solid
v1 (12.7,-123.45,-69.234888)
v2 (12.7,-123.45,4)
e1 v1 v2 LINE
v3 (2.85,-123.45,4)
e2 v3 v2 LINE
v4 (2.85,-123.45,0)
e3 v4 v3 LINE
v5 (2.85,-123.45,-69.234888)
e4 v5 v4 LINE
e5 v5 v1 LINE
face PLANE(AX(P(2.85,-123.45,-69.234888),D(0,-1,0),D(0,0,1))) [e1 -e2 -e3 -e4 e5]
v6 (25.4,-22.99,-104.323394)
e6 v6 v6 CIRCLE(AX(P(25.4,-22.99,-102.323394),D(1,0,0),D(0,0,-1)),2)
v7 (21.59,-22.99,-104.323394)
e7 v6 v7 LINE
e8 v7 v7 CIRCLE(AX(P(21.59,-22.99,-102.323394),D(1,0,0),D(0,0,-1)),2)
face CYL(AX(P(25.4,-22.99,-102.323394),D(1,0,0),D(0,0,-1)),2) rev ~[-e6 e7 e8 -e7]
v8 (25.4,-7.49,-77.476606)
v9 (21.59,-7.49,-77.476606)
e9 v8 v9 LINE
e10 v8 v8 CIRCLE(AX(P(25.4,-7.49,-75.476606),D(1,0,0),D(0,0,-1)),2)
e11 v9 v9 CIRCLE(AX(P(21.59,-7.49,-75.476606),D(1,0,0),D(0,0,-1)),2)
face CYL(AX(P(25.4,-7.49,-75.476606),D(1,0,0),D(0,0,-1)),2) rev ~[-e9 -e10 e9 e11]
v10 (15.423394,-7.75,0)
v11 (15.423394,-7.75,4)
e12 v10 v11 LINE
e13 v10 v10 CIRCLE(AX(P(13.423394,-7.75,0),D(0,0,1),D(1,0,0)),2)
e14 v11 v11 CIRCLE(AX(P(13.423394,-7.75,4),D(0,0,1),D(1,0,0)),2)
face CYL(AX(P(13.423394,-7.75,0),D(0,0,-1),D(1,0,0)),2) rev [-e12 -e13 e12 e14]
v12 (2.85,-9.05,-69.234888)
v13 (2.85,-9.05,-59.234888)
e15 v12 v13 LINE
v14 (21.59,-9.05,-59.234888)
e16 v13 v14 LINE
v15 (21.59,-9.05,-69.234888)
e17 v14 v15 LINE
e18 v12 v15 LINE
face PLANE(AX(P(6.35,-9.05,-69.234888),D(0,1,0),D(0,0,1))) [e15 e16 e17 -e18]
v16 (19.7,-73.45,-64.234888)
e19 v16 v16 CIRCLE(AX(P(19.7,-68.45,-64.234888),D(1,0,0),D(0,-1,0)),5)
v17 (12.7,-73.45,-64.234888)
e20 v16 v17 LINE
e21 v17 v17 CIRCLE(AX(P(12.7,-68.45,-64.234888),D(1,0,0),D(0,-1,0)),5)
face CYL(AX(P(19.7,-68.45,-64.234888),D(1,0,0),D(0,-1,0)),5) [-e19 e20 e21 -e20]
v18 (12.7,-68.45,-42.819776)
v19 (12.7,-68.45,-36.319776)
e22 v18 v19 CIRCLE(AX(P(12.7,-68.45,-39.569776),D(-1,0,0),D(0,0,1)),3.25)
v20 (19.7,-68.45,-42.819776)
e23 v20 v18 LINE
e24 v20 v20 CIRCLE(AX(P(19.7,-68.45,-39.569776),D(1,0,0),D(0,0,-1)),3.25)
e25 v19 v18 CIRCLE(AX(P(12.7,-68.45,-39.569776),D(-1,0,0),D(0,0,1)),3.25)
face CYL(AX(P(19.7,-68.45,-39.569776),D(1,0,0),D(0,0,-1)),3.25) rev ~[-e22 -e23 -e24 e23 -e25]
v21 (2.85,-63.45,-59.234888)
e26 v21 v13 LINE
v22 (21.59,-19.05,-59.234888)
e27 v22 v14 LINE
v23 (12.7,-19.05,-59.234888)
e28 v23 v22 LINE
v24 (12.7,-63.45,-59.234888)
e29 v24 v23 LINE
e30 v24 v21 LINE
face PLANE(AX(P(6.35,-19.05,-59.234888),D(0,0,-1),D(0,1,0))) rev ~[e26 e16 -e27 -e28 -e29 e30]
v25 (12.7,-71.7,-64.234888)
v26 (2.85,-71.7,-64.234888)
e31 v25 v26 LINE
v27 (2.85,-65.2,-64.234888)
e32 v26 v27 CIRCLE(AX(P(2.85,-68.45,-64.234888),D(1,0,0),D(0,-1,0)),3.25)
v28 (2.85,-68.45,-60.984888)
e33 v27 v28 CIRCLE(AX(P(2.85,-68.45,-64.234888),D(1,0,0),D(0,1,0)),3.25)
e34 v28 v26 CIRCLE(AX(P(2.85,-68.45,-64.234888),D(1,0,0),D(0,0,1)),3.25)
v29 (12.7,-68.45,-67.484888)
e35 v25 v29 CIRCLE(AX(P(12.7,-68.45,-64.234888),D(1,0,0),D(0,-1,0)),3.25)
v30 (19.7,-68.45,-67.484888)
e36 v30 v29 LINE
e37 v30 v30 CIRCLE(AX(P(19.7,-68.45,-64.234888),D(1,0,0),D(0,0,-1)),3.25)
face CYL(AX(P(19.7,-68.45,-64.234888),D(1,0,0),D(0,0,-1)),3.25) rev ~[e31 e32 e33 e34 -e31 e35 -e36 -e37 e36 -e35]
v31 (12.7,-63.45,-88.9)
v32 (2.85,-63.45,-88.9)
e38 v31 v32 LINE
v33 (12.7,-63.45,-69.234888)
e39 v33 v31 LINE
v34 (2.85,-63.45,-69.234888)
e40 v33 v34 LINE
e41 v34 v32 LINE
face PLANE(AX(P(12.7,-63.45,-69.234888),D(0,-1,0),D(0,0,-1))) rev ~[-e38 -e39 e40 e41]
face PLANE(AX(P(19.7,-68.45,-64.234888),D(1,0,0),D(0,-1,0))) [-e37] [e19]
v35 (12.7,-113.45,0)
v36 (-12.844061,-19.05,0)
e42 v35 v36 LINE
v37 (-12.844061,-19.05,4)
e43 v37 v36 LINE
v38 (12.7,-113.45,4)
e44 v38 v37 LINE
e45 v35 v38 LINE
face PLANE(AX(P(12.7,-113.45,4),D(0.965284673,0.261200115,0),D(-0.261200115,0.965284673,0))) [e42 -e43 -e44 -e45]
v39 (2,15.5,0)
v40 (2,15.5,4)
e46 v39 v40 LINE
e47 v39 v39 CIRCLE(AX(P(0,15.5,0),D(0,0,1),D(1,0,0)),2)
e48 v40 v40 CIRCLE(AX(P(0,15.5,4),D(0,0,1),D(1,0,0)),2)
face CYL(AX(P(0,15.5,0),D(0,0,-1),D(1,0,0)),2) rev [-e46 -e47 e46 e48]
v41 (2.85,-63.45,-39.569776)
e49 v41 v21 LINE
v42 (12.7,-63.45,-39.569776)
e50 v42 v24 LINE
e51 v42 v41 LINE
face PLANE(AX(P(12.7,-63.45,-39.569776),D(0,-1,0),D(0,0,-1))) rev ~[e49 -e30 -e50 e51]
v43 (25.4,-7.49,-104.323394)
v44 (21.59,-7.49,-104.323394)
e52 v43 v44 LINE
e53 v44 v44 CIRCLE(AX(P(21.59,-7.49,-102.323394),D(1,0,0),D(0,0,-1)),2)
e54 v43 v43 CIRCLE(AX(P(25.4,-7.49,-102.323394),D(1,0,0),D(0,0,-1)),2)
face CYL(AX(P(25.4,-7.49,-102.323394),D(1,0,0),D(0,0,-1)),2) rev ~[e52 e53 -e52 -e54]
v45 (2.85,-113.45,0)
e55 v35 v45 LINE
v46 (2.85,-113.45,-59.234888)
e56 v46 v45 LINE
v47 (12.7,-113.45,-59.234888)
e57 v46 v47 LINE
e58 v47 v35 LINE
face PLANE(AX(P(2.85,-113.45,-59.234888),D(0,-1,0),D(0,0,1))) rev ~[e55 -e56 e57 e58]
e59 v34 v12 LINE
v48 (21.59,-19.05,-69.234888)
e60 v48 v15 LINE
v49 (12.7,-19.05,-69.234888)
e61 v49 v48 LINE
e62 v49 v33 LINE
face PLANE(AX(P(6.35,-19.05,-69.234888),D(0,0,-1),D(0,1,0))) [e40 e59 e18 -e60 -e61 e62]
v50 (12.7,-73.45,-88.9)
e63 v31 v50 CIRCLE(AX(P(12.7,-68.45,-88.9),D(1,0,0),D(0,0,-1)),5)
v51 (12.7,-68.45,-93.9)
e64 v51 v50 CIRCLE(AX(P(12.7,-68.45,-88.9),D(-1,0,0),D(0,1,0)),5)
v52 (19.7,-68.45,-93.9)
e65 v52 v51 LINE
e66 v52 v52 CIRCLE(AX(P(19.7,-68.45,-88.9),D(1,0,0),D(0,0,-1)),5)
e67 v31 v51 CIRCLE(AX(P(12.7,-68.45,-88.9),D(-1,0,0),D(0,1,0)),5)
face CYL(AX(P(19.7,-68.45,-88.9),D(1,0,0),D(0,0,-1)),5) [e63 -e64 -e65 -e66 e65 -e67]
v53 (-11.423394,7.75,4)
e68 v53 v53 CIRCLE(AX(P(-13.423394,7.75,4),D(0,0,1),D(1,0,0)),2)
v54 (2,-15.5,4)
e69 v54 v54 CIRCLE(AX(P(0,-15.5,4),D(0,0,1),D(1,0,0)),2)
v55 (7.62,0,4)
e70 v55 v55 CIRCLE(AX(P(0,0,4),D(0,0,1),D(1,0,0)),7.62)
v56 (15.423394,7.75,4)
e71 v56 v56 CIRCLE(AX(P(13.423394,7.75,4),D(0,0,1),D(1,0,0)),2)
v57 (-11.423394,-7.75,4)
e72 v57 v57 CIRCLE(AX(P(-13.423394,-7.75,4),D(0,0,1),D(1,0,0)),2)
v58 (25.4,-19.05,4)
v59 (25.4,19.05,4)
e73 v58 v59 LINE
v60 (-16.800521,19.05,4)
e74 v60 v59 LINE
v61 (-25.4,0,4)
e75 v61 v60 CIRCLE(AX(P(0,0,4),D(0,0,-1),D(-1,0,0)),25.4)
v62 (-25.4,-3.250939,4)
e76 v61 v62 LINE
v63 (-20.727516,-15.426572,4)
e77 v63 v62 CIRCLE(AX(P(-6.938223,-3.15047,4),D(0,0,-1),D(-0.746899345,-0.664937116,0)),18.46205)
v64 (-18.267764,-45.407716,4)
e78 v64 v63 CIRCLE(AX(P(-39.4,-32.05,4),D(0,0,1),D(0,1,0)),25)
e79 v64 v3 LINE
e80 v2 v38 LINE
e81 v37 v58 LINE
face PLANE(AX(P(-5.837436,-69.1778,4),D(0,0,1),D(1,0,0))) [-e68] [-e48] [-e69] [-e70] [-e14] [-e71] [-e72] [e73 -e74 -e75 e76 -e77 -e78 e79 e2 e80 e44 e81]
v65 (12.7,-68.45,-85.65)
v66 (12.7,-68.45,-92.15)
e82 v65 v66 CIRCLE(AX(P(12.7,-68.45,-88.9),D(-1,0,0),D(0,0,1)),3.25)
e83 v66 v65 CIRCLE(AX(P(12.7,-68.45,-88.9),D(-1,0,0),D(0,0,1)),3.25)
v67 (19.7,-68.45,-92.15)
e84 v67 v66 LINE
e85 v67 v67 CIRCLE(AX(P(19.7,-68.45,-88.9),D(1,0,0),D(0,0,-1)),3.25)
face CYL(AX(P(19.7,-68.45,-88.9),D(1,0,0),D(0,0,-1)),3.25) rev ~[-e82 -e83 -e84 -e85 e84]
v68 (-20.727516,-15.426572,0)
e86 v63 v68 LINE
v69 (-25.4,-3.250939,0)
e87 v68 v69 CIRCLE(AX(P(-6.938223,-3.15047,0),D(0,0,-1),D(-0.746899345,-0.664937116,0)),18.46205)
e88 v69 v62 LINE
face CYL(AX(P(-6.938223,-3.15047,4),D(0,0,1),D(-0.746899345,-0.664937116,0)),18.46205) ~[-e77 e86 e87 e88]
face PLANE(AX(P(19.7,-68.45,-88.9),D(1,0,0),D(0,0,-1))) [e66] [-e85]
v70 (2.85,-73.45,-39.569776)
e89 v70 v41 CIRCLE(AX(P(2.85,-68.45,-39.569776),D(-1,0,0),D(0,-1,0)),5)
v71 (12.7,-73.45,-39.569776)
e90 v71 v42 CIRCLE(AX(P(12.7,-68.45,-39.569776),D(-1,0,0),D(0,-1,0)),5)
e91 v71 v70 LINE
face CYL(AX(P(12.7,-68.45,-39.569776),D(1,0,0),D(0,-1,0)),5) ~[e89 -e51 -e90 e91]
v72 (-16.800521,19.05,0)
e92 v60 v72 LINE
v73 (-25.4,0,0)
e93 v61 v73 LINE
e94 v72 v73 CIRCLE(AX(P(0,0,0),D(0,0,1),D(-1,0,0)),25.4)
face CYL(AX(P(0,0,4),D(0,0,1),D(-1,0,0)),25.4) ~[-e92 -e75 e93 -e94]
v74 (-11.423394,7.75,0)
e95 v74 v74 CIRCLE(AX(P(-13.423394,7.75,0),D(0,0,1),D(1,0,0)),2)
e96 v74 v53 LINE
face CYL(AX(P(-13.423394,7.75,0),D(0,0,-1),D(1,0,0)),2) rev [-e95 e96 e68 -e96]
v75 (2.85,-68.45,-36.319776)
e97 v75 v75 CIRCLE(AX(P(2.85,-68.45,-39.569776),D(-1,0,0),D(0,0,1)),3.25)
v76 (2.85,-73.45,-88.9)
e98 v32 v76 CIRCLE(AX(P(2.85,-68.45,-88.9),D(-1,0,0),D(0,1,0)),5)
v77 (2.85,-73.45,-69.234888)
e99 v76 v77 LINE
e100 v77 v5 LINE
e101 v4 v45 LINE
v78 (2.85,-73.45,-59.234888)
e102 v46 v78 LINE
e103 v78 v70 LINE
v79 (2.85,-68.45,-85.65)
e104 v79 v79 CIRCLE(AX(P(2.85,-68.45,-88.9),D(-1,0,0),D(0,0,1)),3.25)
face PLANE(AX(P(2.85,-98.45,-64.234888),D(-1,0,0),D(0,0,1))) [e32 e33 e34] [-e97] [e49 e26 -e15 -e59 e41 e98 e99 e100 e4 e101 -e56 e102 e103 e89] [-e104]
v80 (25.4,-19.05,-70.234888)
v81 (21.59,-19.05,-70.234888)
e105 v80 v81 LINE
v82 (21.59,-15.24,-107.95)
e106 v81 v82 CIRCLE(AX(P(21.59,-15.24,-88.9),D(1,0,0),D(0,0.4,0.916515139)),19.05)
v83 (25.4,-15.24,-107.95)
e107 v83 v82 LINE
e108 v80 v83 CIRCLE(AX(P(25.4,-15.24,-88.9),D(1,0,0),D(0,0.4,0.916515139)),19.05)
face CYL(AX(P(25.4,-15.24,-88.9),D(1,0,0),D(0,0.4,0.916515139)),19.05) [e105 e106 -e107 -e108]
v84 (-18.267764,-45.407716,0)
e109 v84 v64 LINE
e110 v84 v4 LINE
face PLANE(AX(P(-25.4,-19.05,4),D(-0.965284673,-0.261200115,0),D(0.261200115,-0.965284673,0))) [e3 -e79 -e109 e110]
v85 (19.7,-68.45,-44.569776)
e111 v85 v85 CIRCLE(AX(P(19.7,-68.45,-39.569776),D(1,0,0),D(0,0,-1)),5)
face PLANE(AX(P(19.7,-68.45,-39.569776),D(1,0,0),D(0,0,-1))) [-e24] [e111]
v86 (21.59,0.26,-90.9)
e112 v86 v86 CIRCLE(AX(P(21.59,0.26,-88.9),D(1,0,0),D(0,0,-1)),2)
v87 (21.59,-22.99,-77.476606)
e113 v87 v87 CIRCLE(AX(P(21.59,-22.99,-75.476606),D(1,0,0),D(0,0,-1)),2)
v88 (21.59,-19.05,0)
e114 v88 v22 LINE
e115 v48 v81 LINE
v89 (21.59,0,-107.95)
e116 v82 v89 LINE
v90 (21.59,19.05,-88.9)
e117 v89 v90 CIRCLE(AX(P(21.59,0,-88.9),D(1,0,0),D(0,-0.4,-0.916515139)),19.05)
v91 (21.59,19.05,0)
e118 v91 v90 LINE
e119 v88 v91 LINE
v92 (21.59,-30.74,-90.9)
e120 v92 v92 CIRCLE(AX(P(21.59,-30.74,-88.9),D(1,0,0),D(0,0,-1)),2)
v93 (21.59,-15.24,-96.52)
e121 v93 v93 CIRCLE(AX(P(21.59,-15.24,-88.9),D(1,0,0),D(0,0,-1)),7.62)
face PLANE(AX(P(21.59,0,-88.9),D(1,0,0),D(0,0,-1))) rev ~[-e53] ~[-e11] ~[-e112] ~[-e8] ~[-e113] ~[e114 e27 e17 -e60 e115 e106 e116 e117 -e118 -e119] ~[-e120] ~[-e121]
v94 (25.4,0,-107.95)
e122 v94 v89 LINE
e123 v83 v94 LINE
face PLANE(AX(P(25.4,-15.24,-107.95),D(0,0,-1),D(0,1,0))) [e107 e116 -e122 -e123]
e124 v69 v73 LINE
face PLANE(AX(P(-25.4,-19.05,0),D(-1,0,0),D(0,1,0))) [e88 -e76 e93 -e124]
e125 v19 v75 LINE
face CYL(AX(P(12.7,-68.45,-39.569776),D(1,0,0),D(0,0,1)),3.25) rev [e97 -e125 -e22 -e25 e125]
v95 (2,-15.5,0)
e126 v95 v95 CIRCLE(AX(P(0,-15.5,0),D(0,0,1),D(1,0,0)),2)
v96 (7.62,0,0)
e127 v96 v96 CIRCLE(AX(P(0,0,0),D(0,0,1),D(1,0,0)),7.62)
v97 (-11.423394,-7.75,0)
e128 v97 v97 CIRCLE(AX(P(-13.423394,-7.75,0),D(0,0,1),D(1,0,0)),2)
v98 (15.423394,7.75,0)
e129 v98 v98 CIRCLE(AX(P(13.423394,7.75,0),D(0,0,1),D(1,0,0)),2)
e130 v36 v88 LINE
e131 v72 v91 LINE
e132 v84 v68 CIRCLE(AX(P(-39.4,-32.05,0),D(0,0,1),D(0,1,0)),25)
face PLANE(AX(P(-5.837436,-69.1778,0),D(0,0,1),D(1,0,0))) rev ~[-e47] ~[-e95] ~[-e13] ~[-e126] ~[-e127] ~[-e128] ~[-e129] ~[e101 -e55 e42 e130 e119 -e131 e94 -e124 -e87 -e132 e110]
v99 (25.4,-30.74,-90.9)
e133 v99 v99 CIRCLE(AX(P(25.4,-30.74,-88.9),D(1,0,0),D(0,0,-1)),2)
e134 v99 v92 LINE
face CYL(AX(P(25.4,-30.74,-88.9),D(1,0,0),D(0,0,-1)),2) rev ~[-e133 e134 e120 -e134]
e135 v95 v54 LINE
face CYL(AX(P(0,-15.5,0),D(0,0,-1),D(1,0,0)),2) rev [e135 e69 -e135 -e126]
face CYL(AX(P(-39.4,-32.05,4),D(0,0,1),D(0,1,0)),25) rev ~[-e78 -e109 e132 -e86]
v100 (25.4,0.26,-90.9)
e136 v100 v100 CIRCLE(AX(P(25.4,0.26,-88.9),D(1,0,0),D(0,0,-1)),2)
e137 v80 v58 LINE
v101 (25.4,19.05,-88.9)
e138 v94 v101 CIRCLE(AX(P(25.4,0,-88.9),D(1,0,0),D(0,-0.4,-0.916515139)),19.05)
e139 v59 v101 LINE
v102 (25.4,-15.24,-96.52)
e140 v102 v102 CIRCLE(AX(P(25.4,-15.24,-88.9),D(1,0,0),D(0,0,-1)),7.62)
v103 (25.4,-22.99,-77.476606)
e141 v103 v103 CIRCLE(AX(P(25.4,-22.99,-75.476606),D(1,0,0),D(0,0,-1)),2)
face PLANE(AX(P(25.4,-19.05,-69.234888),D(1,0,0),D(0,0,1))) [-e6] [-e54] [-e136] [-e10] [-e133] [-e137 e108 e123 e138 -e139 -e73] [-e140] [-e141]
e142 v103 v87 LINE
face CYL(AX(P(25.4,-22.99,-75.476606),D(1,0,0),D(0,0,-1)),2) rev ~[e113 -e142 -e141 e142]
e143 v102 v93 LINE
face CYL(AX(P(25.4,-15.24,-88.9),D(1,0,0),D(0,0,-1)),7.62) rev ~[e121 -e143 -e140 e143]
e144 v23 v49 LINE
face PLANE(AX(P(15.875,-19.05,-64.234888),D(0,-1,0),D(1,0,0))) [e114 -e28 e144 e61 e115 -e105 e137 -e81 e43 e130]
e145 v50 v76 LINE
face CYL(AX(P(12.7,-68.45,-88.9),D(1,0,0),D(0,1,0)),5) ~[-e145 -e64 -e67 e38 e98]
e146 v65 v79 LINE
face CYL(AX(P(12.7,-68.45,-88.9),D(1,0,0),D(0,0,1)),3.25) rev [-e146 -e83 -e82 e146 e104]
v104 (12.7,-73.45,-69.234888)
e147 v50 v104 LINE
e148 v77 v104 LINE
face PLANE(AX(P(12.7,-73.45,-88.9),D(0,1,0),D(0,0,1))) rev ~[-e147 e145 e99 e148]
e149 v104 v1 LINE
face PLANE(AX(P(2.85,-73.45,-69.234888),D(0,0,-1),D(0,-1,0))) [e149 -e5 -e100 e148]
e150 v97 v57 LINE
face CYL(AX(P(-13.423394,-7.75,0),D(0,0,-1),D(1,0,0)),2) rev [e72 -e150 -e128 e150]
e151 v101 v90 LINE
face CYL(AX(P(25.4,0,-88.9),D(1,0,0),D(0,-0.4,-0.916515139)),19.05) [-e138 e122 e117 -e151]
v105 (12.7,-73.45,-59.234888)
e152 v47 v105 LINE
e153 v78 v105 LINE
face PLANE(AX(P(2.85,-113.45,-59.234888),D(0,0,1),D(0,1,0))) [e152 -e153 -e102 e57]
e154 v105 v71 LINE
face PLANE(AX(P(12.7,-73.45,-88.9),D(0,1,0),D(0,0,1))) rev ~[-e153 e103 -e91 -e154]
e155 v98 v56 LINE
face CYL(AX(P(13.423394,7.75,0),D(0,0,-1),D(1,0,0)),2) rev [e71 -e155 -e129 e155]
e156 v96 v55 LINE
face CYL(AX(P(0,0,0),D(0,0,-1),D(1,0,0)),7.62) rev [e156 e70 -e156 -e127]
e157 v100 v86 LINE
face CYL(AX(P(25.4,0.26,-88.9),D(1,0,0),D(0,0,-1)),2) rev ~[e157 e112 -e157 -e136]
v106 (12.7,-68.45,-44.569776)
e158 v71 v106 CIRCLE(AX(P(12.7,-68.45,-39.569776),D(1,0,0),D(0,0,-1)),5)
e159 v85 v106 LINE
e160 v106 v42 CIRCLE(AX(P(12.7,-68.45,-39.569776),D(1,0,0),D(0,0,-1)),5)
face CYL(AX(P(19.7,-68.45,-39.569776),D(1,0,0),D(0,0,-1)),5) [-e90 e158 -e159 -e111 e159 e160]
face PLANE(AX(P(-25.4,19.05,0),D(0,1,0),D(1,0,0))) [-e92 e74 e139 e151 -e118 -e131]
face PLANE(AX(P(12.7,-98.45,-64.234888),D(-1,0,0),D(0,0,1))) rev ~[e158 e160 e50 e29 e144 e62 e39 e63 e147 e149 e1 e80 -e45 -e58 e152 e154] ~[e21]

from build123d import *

# Parameters (mm, degrees)
SKETCH1_W                = 50.8
SKETCH1_H                = 38.1
SKETCH1_R                = 2
SKETCH1_R_2              = 7.62
BOSS_EXTRUDE1_DEPTH      = 4
CUT_EXTRUDE1_REACH       = 34.001
SKETCH4_R                = 19.05
SKETCH4_W                = 92.9
SKETCH4_H                = 38.1
SKETCH4_W_2              = 38.1
SKETCH4_H_2              = 15.24
BOSS_EXTRUDE2_DEPTH      = 3.81
CUT_EXTRUDE2_REACH       = 126.136
SKETCH5_R                = 7.62
SKETCH5_R_2              = 2
SKETCH6_W                = 19.05
SKETCH6_H                = 10
BOSS_EXTRUDE3_DEPTH      = 10
BOSS_EXTRUDE6_DEPTH      = 3.5
BOSS_EXTRUDE6_DEPTH_BACK = 6.35
SKETCH9_R                = 3.25
BOSS_EXTRUDE7_START      = 7
SKETCH10_R               = 5
SKETCH10_R_2             = 3.25
BOSS_EXTRUDE7_DEPTH      = 7
SKETCH11_W               = 10
SKETCH11_H               = 10
BOSS_EXTRUDE8_DEPTH      = 3.5
SKETCH12_W               = 63.23488816
SKETCH12_H               = 10
BOSS_EXTRUDE9_DEPTH      = 9.85
BOSS_EXTRUDE11_DEPTH     = 4
CUT_EXTRUDE3_DEPTH       = 4


with BuildPart() as part:
    # Sketch1 → Boss-Extrude1 (new body)
    with BuildSketch(Plane.XY):
        Rectangle(SKETCH1_W, SKETCH1_H)
        with Locations((0, 15.5)):
            Circle(SKETCH1_R, mode=Mode.SUBTRACT)
        with Locations((13.423393759, 7.75)):
            Circle(SKETCH1_R, mode=Mode.SUBTRACT)
        with Locations((13.423393759, -7.75)):
            Circle(SKETCH1_R, mode=Mode.SUBTRACT)
        with Locations((0, -15.5)):
            Circle(SKETCH1_R, mode=Mode.SUBTRACT)
        with Locations((-13.423393759, -7.75)):
            Circle(SKETCH1_R, mode=Mode.SUBTRACT)
        with Locations((-13.423393759, 7.75)):
            Circle(SKETCH1_R, mode=Mode.SUBTRACT)
        Circle(SKETCH1_R_2, mode=Mode.SUBTRACT)
    extrude(amount=BOSS_EXTRUDE1_DEPTH)

    # Sketch2 → Cut-Extrude1 (cut, up to next)
    with BuildSketch(Plane.XY.offset(4), mode=Mode.PRIVATE) as cut_extrude1_sk1:
        with BuildLine():
            Line((-16.800520825, 19.05), (-25.4, 19.05))
            Line((-25.4, 19.05), (-25.4, 0))
            ThreePointArc((-25.4, 0), (-23.150520825, 10.450520825), (-16.800520825, 19.05))
        make_face()
    cut_extrude1_tool1 = extrude(cut_extrude1_sk1.sketch, amount=-CUT_EXTRUDE1_REACH, mode=Mode.PRIVATE) & part.part
    add(cut_extrude1_tool1.solids().sort_by_distance((-22.917267, 14.463782, 4))[0], mode=Mode.SUBTRACT)

    # Sketch4 → Boss-Extrude2 (add)
    with BuildSketch(Plane(origin=(25.4, 0, 0), x_dir=(0, 0, -1), z_dir=(1, 0, 0))):
        with Locations((88.9, 0)):
            Circle(SKETCH4_R)
        with Locations((88.9, -15.24)):
            Circle(SKETCH4_R)
        with Locations((42.45, 0)):
            Rectangle(SKETCH4_W, SKETCH4_H)
        with Locations((88.9, -7.62)):
            Rectangle(SKETCH4_W_2, SKETCH4_H_2)
    extrude(amount=-BOSS_EXTRUDE2_DEPTH)

    # Sketch5 → Cut-Extrude2 (cut, up to next)
    with BuildSketch(Plane(origin=(25.4, 0, 0), x_dir=(0, 0, -1), z_dir=(1, 0, 0)), mode=Mode.PRIVATE) as cut_extrude2_sk1:
        with Locations((88.9, -15.24)):
            Circle(SKETCH5_R)
    cut_extrude2_tool1 = extrude(cut_extrude2_sk1.sketch, amount=-CUT_EXTRUDE2_REACH, mode=Mode.PRIVATE) & part.part
    # Sketch5 → Cut-Extrude2 (cut, up to next)
    with BuildSketch(Plane(origin=(25.4, 0, 0), x_dir=(0, 0, -1), z_dir=(1, 0, 0)), mode=Mode.PRIVATE) as cut_extrude2_sk2:
        with Locations((88.9, 0.26)):
            Circle(SKETCH5_R_2)
    cut_extrude2_tool2 = extrude(cut_extrude2_sk2.sketch, amount=-CUT_EXTRUDE2_REACH, mode=Mode.PRIVATE) & part.part
    # Sketch5 → Cut-Extrude2 (cut, up to next)
    with BuildSketch(Plane(origin=(25.4, 0, 0), x_dir=(0, 0, -1), z_dir=(1, 0, 0)), mode=Mode.PRIVATE) as cut_extrude2_sk3:
        with Locations((102.323393759, -7.49)):
            Circle(SKETCH5_R_2)
    cut_extrude2_tool3 = extrude(cut_extrude2_sk3.sketch, amount=-CUT_EXTRUDE2_REACH, mode=Mode.PRIVATE) & part.part
    # Sketch5 → Cut-Extrude2 (cut, up to next)
    with BuildSketch(Plane(origin=(25.4, 0, 0), x_dir=(0, 0, -1), z_dir=(1, 0, 0)), mode=Mode.PRIVATE) as cut_extrude2_sk4:
        with Locations((102.323393759, -22.99)):
            Circle(SKETCH5_R_2)
    cut_extrude2_tool4 = extrude(cut_extrude2_sk4.sketch, amount=-CUT_EXTRUDE2_REACH, mode=Mode.PRIVATE) & part.part
    # Sketch5 → Cut-Extrude2 (cut, up to next)
    with BuildSketch(Plane(origin=(25.4, 0, 0), x_dir=(0, 0, -1), z_dir=(1, 0, 0)), mode=Mode.PRIVATE) as cut_extrude2_sk5:
        with Locations((88.9, -30.74)):
            Circle(SKETCH5_R_2)
    cut_extrude2_tool5 = extrude(cut_extrude2_sk5.sketch, amount=-CUT_EXTRUDE2_REACH, mode=Mode.PRIVATE) & part.part
    # Sketch5 → Cut-Extrude2 (cut, up to next)
    with BuildSketch(Plane(origin=(25.4, 0, 0), x_dir=(0, 0, -1), z_dir=(1, 0, 0)), mode=Mode.PRIVATE) as cut_extrude2_sk6:
        with Locations((75.476606241, -22.99)):
            Circle(SKETCH5_R_2)
    cut_extrude2_tool6 = extrude(cut_extrude2_sk6.sketch, amount=-CUT_EXTRUDE2_REACH, mode=Mode.PRIVATE) & part.part
    # Sketch5 → Cut-Extrude2 (cut, up to next)
    with BuildSketch(Plane(origin=(25.4, 0, 0), x_dir=(0, 0, -1), z_dir=(1, 0, 0)), mode=Mode.PRIVATE) as cut_extrude2_sk7:
        with Locations((75.476606241, -7.49)):
            Circle(SKETCH5_R_2)
    cut_extrude2_tool7 = extrude(cut_extrude2_sk7.sketch, amount=-CUT_EXTRUDE2_REACH, mode=Mode.PRIVATE) & part.part
    add(cut_extrude2_tool1.solids().sort_by_distance((25.4, -15.24, -88.9))[0], mode=Mode.SUBTRACT)
    add(cut_extrude2_tool2.solids().sort_by_distance((25.4, 0.26, -88.9))[0], mode=Mode.SUBTRACT)
    add(cut_extrude2_tool3.solids().sort_by_distance((25.4, -7.49, -102.323394))[0], mode=Mode.SUBTRACT)
    add(cut_extrude2_tool4.solids().sort_by_distance((25.4, -22.99, -102.323394))[0], mode=Mode.SUBTRACT)
    add(cut_extrude2_tool5.solids().sort_by_distance((25.4, -30.74, -88.9))[0], mode=Mode.SUBTRACT)
    add(cut_extrude2_tool6.solids().sort_by_distance((25.4, -22.99, -75.476606))[0], mode=Mode.SUBTRACT)
    add(cut_extrude2_tool7.solids().sort_by_distance((25.4, -7.49, -75.476606))[0], mode=Mode.SUBTRACT)

    # Sketch6 → Boss-Extrude3 (add)
    with BuildSketch(Plane.XZ.offset(19.05)):
        with Locations((15.875, -64.23488816)):
            Rectangle(SKETCH6_W, SKETCH6_H)
    extrude(amount=-BOSS_EXTRUDE3_DEPTH)

    # Sketch9 → Boss-Extrude6 (add, two sides: drawn at the far end of the back side and taken through both)
    with BuildSketch(Plane.ZY.offset(-6.35).offset(-BOSS_EXTRUDE6_DEPTH_BACK)):
        with BuildLine():
            Line((-59.23488816, -19.05), (-69.23488816, -19.05))
            Line((-69.23488816, -19.05), (-69.23488816, -63.45))
            Line((-69.23488816, -63.45), (-88.9, -63.45))
            ThreePointArc((-88.9, -63.45), (-93.9, -68.45), (-88.9, -73.45))
            Line((-88.9, -73.45), (-64.23488816, -73.45))
            Line((-64.23488816, -73.45), (-39.56977632, -73.45))
            ThreePointArc((-39.56977632, -73.45), (-34.56977632, -68.45), (-39.56977632, -63.45))
            Line((-39.56977632, -63.45), (-59.23488816, -63.45))
            Line((-59.23488816, -63.45), (-59.23488816, -19.05))
        make_face()
        with Locations((-88.9, -68.45)):
            Circle(SKETCH9_R, mode=Mode.SUBTRACT)
        with BuildLine():
            ThreePointArc((-60.98488816, -68.45), (-61.936791121, -70.748097039), (-64.23488816, -71.7))
            ThreePointArc((-64.23488816, -71.7), (-67.48488816, -68.45), (-64.23488816, -65.2))
            ThreePointArc((-64.23488816, -65.2), (-61.936791121, -66.151902961), (-60.98488816, -68.45))
        make_face(mode=Mode.SUBTRACT)
        with Locations((-39.56977632, -68.45)):
            Circle(SKETCH9_R, mode=Mode.SUBTRACT)
    extrude(amount=BOSS_EXTRUDE6_DEPTH + BOSS_EXTRUDE6_DEPTH_BACK)

    # Sketch10 → Boss-Extrude7 (add)
    # profile 1 of 3: a face of its own
    with BuildSketch(Plane(origin=(12.7, 0, 0), x_dir=(0, 0, -1), z_dir=(1, 0, 0)).offset(BOSS_EXTRUDE7_START)):
        with Locations(Location((64.23488816, -68.45, 0), (0, 0, 270))):
            Circle(SKETCH10_R)
        with Locations((64.23488816, -68.45)):
            Circle(SKETCH10_R_2, mode=Mode.SUBTRACT)
    # profile 2 of 3: a face of its own
    with BuildSketch(Plane(origin=(12.7, 0, 0), x_dir=(0, 0, -1), z_dir=(1, 0, 0)).offset(BOSS_EXTRUDE7_START)):
        with Locations((39.56977632, -68.45)):
            Circle(SKETCH10_R)
        with Locations((39.56977632, -68.45)):
            Circle(SKETCH10_R_2, mode=Mode.SUBTRACT)
    # profile 3 of 3: a face of its own
    with BuildSketch(Plane(origin=(12.7, 0, 0), x_dir=(0, 0, -1), z_dir=(1, 0, 0)).offset(BOSS_EXTRUDE7_START)):
        with Locations((88.9, -68.45)):
            Circle(SKETCH10_R)
        with Locations((88.9, -68.45)):
            Circle(SKETCH10_R_2, mode=Mode.SUBTRACT)
    extrude(amount=-BOSS_EXTRUDE7_DEPTH)

    # Sketch11 → Boss-Extrude8 (add)
    with BuildSketch(Plane.ZY.offset(-6.35)):
        with Locations((-64.23488816, -14.05)):
            Rectangle(SKETCH11_W, SKETCH11_H)
    extrude(amount=BOSS_EXTRUDE8_DEPTH)

    # Sketch12 → Boss-Extrude9 (add)
    with BuildSketch(Plane.ZY.offset(-2.85)):
        Polygon((-59.23488816, -73.45), (-69.23488816, -73.45), (-69.23488816, -123.45), (-59.23488816, -123.45), (-59.23488816, -113.45), align=None)
        with Locations((-27.61744408, -118.45)):
            Rectangle(SKETCH12_W, SKETCH12_H)
    extrude(amount=-BOSS_EXTRUDE9_DEPTH)

    # Sketch14 → Boss-Extrude11 (add)
    with BuildSketch(Plane.XY.offset(4)):
        Polygon((-25.4, -19.05), (2.85, -123.45), (12.7, -113.45), (-12.844061303, -19.05), align=None)
    extrude(amount=-BOSS_EXTRUDE11_DEPTH)

    # Sketch15 → Cut-Extrude3 (cut)
    with BuildSketch(Plane.XY.offset(4)):
        with BuildLine():
            Line((-25.4, -3.05), (-39.4, -3.05))
            Line((-39.4, -3.05), (-39.4, -7.05))
            ThreePointArc((-39.4, -7.05), (-49.632651229, -54.859928734), (-20.727516377, -15.426572093))
            ThreePointArc((-20.727516377, -15.426572093), (-24.210390488, -9.671170096), (-25.4, -3.05))
        make_face()
    extrude(amount=-CUT_EXTRUDE3_DEPTH, mode=Mode.SUBTRACT)


solid = part.part
